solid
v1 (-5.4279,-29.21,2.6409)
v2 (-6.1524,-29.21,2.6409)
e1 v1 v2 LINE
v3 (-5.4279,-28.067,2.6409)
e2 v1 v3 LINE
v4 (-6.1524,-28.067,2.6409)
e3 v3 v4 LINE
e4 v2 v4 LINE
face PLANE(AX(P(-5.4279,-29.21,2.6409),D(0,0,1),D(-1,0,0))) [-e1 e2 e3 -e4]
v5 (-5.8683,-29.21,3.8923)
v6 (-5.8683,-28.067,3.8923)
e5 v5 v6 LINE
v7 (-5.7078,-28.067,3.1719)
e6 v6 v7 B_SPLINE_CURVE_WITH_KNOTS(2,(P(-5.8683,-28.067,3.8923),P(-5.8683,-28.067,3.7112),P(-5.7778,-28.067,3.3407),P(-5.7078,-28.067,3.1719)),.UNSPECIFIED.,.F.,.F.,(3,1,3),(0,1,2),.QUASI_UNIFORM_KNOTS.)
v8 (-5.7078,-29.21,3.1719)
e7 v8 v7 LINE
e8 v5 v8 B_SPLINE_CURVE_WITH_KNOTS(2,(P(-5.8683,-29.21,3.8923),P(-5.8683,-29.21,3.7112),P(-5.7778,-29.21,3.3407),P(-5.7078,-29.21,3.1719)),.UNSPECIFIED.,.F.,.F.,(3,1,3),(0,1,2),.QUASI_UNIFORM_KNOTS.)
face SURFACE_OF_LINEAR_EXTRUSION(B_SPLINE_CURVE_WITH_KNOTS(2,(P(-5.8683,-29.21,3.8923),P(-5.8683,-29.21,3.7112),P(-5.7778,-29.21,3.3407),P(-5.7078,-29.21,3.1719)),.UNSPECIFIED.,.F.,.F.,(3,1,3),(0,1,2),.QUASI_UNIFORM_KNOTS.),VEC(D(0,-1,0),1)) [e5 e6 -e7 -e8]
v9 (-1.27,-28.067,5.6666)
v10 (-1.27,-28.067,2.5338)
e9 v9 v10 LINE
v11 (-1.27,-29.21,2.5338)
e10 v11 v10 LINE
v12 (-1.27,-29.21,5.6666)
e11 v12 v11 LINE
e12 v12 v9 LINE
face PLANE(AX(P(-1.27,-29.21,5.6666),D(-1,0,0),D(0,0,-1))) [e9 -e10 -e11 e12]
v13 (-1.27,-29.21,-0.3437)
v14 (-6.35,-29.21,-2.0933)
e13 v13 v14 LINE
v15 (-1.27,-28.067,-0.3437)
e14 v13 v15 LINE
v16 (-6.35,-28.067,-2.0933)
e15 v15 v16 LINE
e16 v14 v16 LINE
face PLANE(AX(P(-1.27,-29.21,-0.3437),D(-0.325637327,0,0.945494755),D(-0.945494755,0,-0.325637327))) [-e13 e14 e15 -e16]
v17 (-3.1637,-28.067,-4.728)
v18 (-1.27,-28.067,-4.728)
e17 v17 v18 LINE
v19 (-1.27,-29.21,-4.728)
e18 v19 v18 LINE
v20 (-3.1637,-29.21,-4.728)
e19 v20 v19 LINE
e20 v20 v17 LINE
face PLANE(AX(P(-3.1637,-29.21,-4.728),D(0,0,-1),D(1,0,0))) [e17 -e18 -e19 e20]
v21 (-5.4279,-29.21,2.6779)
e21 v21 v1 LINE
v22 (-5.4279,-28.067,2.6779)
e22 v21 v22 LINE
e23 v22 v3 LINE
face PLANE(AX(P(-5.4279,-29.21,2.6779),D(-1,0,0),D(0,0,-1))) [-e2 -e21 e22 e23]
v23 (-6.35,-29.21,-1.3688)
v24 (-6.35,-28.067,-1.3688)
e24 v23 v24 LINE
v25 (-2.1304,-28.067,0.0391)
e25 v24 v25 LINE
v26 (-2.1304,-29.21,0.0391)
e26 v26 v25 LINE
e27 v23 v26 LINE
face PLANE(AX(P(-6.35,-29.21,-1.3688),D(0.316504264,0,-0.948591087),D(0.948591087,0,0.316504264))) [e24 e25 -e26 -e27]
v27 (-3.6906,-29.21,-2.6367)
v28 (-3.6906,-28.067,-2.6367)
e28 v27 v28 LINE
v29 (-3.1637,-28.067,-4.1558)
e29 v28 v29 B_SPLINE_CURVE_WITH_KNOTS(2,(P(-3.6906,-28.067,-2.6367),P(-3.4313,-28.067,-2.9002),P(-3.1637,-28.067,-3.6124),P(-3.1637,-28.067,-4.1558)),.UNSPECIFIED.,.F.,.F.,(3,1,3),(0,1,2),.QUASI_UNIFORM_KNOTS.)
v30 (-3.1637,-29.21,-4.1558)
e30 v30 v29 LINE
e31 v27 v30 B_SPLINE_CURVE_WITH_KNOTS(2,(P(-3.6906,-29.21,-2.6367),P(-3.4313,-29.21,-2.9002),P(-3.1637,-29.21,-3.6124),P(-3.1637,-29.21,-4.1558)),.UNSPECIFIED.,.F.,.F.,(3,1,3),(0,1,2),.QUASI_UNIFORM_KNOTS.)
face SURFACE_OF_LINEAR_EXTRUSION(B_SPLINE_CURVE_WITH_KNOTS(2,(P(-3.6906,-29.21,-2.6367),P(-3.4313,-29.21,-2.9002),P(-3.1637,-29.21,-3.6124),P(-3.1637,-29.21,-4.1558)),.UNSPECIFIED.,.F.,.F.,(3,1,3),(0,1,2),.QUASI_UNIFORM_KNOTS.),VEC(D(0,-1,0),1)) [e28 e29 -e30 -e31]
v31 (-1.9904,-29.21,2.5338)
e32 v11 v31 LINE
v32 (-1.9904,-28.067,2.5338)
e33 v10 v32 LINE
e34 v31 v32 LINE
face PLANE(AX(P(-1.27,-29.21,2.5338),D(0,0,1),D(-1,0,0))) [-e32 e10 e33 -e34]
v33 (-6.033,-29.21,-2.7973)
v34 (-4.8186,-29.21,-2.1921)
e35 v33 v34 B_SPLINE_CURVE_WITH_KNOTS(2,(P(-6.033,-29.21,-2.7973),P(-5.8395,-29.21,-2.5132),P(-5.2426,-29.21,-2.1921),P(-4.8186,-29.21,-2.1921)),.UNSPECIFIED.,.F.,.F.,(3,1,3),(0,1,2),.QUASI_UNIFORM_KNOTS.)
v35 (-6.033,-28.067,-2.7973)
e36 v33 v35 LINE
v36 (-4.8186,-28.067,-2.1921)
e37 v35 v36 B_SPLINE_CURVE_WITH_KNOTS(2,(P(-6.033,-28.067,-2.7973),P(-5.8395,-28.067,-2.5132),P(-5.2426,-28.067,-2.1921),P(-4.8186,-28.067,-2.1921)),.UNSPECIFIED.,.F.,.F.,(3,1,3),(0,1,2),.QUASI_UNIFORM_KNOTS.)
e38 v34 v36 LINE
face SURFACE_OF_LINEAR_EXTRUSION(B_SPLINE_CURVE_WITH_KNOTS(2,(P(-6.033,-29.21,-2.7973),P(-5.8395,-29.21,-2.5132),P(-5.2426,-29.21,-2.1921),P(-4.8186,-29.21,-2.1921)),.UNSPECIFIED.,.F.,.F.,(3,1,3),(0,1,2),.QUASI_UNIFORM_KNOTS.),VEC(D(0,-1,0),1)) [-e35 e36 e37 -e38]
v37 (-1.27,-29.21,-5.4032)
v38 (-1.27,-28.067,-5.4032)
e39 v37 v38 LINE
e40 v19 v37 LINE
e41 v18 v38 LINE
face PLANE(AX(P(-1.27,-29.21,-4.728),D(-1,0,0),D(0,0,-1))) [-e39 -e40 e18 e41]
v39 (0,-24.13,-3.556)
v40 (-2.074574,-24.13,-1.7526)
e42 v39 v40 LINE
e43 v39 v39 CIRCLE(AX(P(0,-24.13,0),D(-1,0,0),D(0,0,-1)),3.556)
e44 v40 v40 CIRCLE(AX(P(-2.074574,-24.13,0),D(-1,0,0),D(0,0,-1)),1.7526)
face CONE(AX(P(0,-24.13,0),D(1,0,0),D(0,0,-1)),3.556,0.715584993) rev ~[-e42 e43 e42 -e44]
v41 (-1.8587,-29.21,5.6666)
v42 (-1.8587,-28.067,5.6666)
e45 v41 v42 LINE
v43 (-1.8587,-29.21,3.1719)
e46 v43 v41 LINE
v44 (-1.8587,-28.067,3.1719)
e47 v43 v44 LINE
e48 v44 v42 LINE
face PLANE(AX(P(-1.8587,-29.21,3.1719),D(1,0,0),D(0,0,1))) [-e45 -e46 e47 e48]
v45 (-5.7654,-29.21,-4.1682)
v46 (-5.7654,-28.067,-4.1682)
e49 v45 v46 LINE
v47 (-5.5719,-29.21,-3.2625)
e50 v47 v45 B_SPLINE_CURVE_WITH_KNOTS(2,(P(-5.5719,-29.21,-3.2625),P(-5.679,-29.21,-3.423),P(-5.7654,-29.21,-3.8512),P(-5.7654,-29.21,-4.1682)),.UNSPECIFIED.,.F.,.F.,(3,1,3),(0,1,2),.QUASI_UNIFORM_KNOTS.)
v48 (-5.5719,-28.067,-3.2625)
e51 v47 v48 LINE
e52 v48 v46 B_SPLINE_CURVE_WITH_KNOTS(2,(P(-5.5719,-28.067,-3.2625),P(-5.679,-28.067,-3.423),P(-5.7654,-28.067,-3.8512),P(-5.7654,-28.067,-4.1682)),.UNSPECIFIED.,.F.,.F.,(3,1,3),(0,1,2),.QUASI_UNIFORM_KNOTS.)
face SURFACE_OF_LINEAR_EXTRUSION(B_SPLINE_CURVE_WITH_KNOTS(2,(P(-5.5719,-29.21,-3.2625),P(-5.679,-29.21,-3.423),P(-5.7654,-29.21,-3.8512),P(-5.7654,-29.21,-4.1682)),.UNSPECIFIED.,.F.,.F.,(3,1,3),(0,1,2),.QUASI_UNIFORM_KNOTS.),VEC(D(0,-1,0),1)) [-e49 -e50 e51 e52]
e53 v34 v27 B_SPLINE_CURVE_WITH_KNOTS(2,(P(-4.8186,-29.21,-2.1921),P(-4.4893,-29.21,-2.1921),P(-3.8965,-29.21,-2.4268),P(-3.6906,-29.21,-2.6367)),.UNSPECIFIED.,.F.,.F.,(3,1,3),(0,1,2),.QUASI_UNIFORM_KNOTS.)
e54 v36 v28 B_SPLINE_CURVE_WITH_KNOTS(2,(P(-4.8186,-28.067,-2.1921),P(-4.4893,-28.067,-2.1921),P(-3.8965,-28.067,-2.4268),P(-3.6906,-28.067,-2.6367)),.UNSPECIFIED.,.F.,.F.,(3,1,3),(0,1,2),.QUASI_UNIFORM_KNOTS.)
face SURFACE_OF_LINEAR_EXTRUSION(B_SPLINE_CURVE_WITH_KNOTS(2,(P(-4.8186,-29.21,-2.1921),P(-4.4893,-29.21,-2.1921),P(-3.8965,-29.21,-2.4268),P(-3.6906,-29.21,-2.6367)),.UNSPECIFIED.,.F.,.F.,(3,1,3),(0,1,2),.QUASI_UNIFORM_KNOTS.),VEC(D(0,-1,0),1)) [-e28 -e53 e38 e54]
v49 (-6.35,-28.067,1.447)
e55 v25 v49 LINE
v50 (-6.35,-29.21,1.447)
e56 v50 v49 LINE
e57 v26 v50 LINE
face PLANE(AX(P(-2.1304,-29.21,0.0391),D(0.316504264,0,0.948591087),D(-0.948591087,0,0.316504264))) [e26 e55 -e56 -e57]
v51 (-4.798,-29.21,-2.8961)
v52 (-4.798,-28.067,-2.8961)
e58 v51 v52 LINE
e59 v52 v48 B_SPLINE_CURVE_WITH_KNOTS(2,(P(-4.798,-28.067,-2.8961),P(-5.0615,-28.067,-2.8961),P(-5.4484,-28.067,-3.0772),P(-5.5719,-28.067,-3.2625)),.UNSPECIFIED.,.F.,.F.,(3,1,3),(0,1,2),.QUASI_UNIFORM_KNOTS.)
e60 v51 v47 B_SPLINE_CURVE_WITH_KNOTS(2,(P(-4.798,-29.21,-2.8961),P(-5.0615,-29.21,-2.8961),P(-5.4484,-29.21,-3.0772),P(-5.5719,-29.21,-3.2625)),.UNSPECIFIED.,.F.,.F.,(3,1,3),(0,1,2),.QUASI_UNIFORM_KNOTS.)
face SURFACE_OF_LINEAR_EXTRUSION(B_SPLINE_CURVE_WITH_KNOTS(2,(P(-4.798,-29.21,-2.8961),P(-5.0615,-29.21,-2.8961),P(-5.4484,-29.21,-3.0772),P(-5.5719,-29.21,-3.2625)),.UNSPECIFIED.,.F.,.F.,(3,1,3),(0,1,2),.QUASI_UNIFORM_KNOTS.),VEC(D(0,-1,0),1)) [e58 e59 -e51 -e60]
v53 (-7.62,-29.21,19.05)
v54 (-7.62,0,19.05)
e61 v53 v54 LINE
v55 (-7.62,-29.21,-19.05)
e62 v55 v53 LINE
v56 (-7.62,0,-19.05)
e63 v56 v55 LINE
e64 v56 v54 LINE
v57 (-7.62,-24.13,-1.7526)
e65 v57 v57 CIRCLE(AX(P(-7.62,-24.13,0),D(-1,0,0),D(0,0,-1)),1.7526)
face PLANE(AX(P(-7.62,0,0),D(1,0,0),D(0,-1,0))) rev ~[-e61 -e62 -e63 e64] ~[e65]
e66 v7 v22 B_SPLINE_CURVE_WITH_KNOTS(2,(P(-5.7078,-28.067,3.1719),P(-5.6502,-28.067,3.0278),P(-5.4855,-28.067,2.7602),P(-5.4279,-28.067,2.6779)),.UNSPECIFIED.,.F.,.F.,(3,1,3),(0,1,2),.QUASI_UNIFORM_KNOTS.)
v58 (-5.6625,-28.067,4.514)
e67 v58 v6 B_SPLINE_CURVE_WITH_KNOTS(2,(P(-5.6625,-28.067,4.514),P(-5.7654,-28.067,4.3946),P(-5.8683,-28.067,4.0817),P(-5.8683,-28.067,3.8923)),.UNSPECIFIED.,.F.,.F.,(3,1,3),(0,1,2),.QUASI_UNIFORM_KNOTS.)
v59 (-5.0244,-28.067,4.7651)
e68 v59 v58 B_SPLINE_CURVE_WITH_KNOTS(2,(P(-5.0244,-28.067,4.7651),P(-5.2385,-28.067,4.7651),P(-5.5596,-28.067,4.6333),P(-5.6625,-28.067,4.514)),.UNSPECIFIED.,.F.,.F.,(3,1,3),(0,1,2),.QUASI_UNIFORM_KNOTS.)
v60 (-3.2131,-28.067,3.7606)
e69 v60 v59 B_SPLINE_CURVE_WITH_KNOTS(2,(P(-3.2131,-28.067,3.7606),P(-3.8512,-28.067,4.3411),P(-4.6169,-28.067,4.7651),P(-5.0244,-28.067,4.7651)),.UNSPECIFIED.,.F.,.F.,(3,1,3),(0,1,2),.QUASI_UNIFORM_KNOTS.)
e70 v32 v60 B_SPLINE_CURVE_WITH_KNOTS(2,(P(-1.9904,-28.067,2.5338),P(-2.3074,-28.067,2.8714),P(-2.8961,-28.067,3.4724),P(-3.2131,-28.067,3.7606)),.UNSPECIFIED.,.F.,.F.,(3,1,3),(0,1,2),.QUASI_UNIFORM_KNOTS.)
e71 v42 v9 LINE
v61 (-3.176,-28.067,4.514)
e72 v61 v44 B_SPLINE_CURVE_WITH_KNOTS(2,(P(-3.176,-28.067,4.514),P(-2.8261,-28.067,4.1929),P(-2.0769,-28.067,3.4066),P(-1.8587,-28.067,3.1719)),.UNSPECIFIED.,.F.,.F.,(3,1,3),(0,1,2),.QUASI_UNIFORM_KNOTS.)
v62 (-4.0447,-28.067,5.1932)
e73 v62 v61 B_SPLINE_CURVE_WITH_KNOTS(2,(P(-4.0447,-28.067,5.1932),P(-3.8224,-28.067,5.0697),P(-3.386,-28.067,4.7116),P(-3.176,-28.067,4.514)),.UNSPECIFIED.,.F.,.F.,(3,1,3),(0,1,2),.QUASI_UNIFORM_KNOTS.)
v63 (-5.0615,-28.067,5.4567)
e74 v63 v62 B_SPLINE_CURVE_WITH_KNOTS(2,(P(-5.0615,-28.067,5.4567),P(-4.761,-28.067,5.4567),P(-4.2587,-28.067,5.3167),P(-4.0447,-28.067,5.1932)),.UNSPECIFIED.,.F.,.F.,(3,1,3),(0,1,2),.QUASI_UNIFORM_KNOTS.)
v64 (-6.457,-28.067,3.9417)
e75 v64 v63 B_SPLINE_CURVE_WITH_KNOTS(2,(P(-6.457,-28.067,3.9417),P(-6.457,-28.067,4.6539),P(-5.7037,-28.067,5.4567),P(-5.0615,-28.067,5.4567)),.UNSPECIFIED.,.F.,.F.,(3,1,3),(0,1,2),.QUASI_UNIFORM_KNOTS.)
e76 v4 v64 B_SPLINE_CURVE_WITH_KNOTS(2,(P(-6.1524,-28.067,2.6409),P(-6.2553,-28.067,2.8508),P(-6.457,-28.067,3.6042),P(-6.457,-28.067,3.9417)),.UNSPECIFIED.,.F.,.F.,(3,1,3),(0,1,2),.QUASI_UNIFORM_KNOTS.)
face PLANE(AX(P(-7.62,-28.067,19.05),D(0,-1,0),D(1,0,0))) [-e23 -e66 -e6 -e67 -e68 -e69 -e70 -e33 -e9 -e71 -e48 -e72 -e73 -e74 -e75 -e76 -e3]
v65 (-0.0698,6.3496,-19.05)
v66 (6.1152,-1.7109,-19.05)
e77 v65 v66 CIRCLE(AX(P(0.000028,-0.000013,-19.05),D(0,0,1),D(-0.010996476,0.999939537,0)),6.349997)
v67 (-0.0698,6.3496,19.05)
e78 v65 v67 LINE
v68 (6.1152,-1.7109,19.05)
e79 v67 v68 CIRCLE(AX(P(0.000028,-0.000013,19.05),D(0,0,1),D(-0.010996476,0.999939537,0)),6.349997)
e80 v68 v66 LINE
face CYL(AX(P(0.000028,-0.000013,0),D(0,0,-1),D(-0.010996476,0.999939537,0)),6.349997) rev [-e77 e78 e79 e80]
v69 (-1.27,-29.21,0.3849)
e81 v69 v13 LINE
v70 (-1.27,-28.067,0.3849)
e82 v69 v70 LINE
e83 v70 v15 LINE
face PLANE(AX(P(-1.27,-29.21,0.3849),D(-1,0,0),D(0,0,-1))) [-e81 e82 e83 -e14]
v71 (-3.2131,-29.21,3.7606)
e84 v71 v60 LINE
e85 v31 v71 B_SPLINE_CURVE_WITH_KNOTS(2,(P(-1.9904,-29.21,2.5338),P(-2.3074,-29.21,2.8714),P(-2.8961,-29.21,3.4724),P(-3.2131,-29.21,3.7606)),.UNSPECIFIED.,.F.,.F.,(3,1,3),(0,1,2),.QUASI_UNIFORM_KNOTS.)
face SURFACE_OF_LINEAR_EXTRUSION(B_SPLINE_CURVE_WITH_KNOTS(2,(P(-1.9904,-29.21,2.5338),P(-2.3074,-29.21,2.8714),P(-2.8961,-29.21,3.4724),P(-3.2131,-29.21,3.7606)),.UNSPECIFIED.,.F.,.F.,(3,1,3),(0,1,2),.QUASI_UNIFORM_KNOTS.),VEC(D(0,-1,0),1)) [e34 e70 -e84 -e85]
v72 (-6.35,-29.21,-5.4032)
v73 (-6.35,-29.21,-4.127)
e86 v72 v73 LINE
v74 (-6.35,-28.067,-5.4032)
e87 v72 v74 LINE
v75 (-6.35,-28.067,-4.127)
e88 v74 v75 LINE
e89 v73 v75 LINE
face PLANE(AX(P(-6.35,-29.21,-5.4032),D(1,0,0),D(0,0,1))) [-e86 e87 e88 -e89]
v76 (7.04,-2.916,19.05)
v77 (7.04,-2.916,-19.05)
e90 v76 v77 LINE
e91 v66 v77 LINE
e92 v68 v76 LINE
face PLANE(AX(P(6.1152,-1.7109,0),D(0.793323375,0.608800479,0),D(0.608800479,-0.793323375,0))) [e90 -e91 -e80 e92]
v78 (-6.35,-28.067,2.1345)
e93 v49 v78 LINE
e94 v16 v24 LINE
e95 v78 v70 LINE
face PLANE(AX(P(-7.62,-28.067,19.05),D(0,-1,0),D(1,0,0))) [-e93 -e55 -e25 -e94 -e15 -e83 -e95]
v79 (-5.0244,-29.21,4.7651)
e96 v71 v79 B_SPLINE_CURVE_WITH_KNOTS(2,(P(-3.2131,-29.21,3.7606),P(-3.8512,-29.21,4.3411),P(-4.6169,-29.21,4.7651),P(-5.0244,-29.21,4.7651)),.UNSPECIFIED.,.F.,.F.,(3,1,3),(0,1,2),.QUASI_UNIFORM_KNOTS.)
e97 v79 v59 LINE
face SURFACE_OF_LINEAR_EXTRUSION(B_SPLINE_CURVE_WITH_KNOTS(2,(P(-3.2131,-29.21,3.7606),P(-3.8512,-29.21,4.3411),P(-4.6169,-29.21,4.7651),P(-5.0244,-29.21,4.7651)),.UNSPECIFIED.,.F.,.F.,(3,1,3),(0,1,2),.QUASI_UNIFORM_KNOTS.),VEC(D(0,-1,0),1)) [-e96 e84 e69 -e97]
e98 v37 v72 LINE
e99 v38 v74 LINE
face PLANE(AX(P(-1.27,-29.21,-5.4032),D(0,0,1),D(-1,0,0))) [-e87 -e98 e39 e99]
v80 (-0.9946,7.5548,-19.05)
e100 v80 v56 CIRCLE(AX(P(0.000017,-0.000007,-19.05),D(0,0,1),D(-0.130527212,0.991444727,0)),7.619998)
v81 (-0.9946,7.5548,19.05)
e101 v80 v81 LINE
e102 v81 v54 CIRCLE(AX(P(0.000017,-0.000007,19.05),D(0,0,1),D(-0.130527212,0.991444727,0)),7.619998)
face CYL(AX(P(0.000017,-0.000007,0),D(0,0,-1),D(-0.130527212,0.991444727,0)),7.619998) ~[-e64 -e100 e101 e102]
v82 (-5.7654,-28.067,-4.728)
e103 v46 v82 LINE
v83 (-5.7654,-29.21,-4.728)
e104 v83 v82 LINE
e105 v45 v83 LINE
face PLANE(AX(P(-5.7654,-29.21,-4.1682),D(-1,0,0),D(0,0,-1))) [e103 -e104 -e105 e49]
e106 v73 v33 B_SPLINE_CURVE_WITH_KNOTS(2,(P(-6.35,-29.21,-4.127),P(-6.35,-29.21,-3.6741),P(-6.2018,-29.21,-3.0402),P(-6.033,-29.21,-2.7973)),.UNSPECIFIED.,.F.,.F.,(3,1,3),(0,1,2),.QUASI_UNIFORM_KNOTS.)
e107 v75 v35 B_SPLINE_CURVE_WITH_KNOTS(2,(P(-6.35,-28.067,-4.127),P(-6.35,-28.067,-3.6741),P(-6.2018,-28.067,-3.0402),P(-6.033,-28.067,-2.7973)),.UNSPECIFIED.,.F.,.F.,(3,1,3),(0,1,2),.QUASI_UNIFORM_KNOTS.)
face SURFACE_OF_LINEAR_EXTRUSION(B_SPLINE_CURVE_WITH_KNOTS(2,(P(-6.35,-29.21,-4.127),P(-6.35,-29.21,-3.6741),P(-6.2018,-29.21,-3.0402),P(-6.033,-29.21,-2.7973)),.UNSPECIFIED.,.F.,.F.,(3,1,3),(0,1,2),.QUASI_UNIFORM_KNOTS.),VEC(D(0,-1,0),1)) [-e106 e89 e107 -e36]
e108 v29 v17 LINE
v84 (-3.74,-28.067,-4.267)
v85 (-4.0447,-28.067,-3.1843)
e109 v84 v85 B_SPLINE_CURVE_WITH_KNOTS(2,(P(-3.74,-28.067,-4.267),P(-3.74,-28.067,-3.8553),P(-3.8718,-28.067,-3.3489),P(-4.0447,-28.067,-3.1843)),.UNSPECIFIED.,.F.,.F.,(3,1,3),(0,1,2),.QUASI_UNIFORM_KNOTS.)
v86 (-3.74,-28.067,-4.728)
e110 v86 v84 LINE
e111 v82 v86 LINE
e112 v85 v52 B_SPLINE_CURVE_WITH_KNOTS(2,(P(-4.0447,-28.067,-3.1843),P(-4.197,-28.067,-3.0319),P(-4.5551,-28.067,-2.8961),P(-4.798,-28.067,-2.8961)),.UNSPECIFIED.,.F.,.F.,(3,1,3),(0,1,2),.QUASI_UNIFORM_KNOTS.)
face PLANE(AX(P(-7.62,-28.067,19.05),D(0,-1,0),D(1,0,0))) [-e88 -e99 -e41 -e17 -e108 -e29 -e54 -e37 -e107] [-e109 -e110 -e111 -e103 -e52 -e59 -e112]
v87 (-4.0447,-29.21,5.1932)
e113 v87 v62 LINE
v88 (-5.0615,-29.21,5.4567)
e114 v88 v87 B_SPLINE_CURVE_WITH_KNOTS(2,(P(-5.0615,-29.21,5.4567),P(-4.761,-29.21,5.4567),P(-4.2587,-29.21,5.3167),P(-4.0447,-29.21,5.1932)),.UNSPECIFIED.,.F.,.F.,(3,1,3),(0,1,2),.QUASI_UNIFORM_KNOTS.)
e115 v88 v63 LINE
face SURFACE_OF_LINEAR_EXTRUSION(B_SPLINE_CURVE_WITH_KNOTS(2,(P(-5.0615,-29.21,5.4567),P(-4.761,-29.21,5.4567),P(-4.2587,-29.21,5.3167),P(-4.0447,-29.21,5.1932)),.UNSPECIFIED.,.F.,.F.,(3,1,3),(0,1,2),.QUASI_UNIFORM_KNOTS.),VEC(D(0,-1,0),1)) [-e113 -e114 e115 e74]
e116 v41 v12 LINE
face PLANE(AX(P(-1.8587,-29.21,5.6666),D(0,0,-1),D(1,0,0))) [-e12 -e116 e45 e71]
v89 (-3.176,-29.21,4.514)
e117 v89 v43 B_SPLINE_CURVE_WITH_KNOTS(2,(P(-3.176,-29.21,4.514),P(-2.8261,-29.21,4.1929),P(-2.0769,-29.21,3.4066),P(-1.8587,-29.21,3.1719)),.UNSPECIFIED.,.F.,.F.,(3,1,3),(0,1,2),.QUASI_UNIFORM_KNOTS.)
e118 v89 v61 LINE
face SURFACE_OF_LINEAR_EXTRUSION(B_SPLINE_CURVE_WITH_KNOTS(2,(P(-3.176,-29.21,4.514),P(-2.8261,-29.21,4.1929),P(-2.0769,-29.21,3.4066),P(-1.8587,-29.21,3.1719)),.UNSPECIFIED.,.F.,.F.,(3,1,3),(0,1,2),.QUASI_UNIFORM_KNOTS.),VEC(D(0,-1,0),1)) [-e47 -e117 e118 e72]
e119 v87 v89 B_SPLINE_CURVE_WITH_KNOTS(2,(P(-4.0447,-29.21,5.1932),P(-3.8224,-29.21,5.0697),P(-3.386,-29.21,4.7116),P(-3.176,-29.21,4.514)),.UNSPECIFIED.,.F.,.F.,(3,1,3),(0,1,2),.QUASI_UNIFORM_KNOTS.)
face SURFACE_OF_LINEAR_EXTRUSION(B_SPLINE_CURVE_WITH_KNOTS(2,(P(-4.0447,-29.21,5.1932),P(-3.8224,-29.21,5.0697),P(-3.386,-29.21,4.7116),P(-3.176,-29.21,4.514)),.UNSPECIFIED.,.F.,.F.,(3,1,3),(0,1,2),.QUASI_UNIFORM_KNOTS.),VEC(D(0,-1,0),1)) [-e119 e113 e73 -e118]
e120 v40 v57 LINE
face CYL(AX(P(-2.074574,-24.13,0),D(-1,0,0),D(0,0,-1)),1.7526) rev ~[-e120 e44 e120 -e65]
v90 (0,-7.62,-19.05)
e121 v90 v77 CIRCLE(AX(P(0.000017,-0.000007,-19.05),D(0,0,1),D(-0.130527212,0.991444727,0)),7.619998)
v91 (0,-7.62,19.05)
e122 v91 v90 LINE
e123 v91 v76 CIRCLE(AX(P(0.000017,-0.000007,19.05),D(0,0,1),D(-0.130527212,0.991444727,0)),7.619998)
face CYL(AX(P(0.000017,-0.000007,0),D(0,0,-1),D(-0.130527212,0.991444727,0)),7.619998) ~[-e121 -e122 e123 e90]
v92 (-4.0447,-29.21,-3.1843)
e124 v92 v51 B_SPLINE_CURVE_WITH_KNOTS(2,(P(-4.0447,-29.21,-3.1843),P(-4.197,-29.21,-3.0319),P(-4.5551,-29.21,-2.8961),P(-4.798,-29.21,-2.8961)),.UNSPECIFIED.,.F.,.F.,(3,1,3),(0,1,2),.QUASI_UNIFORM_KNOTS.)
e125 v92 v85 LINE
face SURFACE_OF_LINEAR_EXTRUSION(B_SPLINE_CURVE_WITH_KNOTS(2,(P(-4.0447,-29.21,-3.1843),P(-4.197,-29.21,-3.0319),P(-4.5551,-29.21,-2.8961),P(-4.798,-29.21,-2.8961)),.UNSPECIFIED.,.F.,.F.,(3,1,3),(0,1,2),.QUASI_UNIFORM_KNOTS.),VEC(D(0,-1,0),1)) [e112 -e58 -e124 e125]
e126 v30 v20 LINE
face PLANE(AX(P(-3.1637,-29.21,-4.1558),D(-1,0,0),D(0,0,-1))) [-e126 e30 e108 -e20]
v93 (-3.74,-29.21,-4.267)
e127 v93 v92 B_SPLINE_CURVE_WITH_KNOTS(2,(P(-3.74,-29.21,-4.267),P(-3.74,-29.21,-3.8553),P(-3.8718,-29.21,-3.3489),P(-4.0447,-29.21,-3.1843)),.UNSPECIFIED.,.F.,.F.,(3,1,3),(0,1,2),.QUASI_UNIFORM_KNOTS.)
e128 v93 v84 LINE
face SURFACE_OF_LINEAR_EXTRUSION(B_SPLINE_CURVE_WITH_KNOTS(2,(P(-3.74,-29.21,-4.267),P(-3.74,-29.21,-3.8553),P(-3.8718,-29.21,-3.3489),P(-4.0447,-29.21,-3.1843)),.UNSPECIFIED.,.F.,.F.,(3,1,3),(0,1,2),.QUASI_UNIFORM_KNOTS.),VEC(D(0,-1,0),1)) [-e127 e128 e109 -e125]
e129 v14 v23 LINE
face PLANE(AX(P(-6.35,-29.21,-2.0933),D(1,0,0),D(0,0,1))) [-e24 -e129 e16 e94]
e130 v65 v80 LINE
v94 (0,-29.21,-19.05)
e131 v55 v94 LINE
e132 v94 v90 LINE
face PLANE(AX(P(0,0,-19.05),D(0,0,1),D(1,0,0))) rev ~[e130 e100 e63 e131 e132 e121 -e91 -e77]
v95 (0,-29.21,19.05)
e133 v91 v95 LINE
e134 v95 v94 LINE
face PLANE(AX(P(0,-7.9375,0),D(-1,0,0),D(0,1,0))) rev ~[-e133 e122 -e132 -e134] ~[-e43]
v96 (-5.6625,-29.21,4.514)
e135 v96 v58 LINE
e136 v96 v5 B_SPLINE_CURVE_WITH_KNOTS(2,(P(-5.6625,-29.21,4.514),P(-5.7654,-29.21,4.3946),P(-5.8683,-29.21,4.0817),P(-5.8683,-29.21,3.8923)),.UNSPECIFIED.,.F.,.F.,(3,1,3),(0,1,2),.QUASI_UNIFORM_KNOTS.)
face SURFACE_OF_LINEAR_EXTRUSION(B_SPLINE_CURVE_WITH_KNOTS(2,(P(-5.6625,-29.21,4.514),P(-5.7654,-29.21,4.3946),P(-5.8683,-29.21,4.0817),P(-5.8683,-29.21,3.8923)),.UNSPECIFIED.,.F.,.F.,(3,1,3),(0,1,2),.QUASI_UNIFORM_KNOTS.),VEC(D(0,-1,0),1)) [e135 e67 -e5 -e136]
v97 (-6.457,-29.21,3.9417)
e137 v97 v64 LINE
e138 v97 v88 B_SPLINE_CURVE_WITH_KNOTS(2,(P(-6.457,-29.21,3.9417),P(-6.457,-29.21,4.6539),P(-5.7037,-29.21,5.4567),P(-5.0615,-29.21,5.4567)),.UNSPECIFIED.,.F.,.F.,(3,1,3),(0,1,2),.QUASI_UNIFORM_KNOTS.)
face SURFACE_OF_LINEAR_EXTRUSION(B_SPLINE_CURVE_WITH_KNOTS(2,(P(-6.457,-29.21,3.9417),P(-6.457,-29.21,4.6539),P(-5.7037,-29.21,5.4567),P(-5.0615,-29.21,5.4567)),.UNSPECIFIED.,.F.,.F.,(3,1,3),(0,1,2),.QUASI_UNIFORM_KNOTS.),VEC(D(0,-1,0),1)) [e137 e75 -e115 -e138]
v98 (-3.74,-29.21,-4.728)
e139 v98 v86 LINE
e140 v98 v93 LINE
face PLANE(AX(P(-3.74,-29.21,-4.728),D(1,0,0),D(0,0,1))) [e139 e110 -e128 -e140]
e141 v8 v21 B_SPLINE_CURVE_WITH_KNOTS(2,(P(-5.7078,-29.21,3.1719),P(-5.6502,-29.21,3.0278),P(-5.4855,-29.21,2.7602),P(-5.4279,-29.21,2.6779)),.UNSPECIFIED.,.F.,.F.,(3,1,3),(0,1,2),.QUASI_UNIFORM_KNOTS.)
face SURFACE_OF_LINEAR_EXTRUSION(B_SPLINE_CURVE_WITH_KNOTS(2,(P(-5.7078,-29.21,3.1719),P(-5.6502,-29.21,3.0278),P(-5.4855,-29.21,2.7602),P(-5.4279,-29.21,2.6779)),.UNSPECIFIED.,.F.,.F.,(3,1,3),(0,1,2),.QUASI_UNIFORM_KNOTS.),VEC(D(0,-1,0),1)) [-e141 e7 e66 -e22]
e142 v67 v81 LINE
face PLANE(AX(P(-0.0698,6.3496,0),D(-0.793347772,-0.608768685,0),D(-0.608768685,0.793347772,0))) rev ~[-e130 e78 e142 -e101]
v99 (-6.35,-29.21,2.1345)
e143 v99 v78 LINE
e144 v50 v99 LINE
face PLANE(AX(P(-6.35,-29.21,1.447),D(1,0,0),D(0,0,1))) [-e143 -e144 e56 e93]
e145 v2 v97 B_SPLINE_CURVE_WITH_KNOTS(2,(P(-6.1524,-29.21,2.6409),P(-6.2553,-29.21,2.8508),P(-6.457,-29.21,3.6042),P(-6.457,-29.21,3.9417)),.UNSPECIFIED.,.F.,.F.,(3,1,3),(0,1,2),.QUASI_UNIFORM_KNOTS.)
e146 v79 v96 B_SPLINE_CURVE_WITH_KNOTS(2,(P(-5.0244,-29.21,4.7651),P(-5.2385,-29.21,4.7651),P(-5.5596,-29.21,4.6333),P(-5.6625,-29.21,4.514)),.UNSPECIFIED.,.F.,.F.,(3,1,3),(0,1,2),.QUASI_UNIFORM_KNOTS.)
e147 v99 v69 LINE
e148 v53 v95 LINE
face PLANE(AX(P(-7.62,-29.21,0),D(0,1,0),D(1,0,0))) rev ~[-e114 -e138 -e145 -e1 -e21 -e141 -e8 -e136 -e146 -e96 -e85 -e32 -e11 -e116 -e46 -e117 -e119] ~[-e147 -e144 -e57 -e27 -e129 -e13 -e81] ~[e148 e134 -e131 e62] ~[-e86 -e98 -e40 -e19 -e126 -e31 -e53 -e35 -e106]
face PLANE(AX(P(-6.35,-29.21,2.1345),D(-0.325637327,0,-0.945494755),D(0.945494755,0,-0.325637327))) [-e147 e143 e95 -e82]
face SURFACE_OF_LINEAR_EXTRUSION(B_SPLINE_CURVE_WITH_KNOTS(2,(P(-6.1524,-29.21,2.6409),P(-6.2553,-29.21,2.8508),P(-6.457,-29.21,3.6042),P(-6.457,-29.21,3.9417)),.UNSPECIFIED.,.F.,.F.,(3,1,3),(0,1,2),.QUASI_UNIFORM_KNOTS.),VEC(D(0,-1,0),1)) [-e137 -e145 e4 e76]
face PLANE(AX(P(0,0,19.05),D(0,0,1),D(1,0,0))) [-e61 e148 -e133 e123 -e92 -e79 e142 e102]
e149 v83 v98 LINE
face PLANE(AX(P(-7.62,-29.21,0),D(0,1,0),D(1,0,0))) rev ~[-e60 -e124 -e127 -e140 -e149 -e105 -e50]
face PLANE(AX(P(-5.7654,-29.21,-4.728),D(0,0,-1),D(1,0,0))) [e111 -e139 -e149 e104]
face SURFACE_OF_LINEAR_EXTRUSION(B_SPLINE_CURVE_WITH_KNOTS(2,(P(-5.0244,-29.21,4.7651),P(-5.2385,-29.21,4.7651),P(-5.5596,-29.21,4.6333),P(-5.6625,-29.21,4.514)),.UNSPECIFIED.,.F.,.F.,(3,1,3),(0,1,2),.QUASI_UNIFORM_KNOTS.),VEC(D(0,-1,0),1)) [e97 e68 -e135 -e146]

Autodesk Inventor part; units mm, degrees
ref_plane "YZ Plane" through (0, 0, 0) normal (1, 0, 0) x (0, 1, 0)
ref_plane "XZ Plane" through (0, 0, 0) normal (0, 1, 0) x (-1, 0, 0)
ref_plane "XY Plane" through (0, 0, 0) normal (0, 0, 1) x (1, 0, 0)
sketch "Sketch4" plane through (0, 0, 0) normal (0, 0, 1) x (1, 0, 0)
  arc A0 (-0.0698, 6.3496) -> (6.1152, -1.7109) centre (0, 0) ccw
  arc A1 (-0.9946, 7.5548) -> (7.04, -2.916) centre (0, 0) ccw
  line L0 (0, 0) -> (0, 7.9375) construction
  line L1 (-0.0698, 6.3496) -> (6.1152, -1.7109) construction
  line L2 (-0.0698, 6.3496) -> (-0.9946, 7.5548)
  line L3 (6.1152, -1.7109) -> (7.04, -2.916)
  circle A2 centre (0, 0) radius 6.35
  dimension "d10" = 12.7
  dimension "d11" = 1.27
  dimension "d12" = 37.5
  dimension "d13" = 10.16
extrude "Extrusion3" add sketch "Sketch4" along normal mid plane 38.1 contours A0 L3 A1 L2
sketch "Sketch5" plane through (0, 0, 0) normal (0, 0, 1) x (1, 0, 0)
  arc A0 (-0.9946, 7.5548) -> (7.04, -2.916) centre (0, 0) ccw projected
  line L0 (-7.62, 0) -> (-7.62, -29.21)
  line L1 (-7.62, -29.21) -> (0, -29.21)
  line L2 (0, -29.21) -> (0, -7.62)
  circle A1 centre (0, 0) radius 7.9375
  dimension "d16" = 21.59
extrude "Extrusion4" add sketch "Sketch5" along normal mid plane 38.1 contours A0 L2 A1 L0 | A1 L2 L1 L0 picked at (-7.3048, -2.4081)
sketch "Sketch6" plane through (0, -29.21, 19.05) normal (1, 0, 0) x (0, 0, -1)
  line L0 (0, 21.59) -> (38.1, 21.59) projected
  line L1 (38.1, 21.59) -> (38.1, 0) projected
  line L2 (0, 0) -> (38.1, 0) projected
  line L3 (0, 0) -> (0, 21.59) projected
  line L4 (19.05, 0) -> (19.05, 21.59) construction
  point P0 (19.05, 29.21)
  point P1 (19.05, 5.08)
  dimension "d30" = 5.08
  dimension "d31" = 0
hole "Hole1" at (0, -24.13, 0) direction (-1, 0, 0) diameter 3.5052 end through all countersink diameter 7.112 countersink angle 82
sketch "Sketch10" plane through (-7.62, -29.21, 19.05) normal (0, -1, 0) x (1, 0, 0)
  line L0 (0, -38.1) -> (0, 0) projected
  line L1 (7.62, -38.1) -> (0, -38.1) projected
  line L2 (7.62, 0) -> (7.62, -38.1) projected
  line L3 (0, 0) -> (7.62, 0) projected
  line L4 (3.81, -38.1) -> (3.81, 0) construction
  spline S0 degree 2 poles (2.8014, -21.2421) (3.1307, -21.2421) (3.7235, -21.4768) (3.9294, -21.6867) knots 0 0 0 1 2 2 2
  spline S1 degree 2 poles (3.9294, -21.6867) (4.1887, -21.9502) (4.4563, -22.6624) (4.4563, -23.2058) knots 0 0 0 1 2 2 2
  line L5 (4.4563, -23.2058) -> (4.4563, -23.778)
  line L6 (4.4563, -23.778) -> (6.35, -23.778)
  line L7 (6.35, -23.778) -> (6.35, -24.4532)
  line L8 (6.35, -24.4532) -> (1.27, -24.4532)
  line L9 (1.27, -24.4532) -> (1.27, -23.177)
  spline S2 degree 2 poles (1.27, -23.177) (1.27, -22.7241) (1.4182, -22.0902) (1.587, -21.8473) knots 0 0 0 1 2 2 2
  spline S3 degree 2 poles (1.587, -21.8473) (1.7805, -21.5632) (2.3774, -21.2421) (2.8014, -21.2421) knots 0 0 0 1 2 2 2
  spline S4 degree 2 poles (2.822, -21.9461) (2.5585, -21.9461) (2.1716, -22.1272) (2.0481, -22.3125) knots 0 0 0 1 2 2 2
  spline S5 degree 2 poles (2.0481, -22.3125) (1.941, -22.473) (1.8546, -22.9012) (1.8546, -23.2182) knots 0 0 0 1 2 2 2
  line L10 (1.8546, -23.2182) -> (1.8546, -23.778)
  line L11 (1.8546, -23.778) -> (3.88, -23.778)
  line L12 (3.88, -23.778) -> (3.88, -23.317)
  spline S6 degree 2 poles (3.88, -23.317) (3.88, -22.9053) (3.7482, -22.3989) (3.5753, -22.2343) knots 0 0 0 1 2 2 2
  spline S7 degree 2 poles (3.5753, -22.2343) (3.423, -22.0819) (3.0649, -21.9461) (2.822, -21.9461) knots 0 0 0 1 2 2 2
  line L13 (1.27, -16.9155) -> (6.35, -18.6651)
  line L14 (6.35, -18.6651) -> (6.35, -19.3937)
  line L15 (6.35, -19.3937) -> (1.27, -21.1433)
  line L16 (1.27, -21.1433) -> (1.27, -20.4188)
  line L17 (1.27, -20.4188) -> (5.4896, -19.0109)
  line L18 (5.4896, -19.0109) -> (1.27, -17.603)
  line L19 (1.27, -17.603) -> (1.27, -16.9155)
  line L20 (6.35, -13.3834) -> (6.35, -16.5162)
  line L21 (6.35, -16.5162) -> (5.6296, -16.5162)
  spline S8 degree 2 poles (5.6296, -16.5162) (5.3126, -16.1786) (4.7239, -15.5776) (4.4069, -15.2894) knots 0 0 0 1 2 2 2
  spline S9 degree 2 poles (4.4069, -15.2894) (3.7688, -14.7089) (3.0031, -14.2849) (2.5956, -14.2849) knots 0 0 0 1 2 2 2
  spline S10 degree 2 poles (2.5956, -14.2849) (2.3815, -14.2849) (2.0604, -14.4167) (1.9575, -14.536) knots 0 0 0 1 2 2 2
  spline S11 degree 2 poles (1.9575, -14.536) (1.8546, -14.6554) (1.7517, -14.9683) (1.7517, -15.1577) knots 0 0 0 1 2 2 2
  spline S12 degree 2 poles (1.7517, -15.1577) (1.7517, -15.3388) (1.8422, -15.7093) (1.9122, -15.8781) knots 0 0 0 1 2 2 2
  spline S13 degree 2 poles (1.9122, -15.8781) (1.9698, -16.0222) (2.1345, -16.2898) (2.1921, -16.3721) knots 0 0 0 1 2 2 2
  line L22 (2.1921, -16.3721) -> (2.1921, -16.4091)
  line L23 (2.1921, -16.4091) -> (1.4676, -16.4091)
  spline S14 degree 2 poles (1.4676, -16.4091) (1.3647, -16.1992) (1.163, -15.4458) (1.163, -15.1083) knots 0 0 0 1 2 2 2
  spline S15 degree 2 poles (1.163, -15.1083) (1.163, -14.3961) (1.9163, -13.5933) (2.5585, -13.5933) knots 0 0 0 1 2 2 2
  spline S16 degree 2 poles (2.5585, -13.5933) (2.859, -13.5933) (3.3613, -13.7333) (3.5753, -13.8568) knots 0 0 0 1 2 2 2
  spline S17 degree 2 poles (3.5753, -13.8568) (3.7976, -13.9803) (4.234, -14.3384) (4.444, -14.536) knots 0 0 0 1 2 2 2
  spline S18 degree 2 poles (4.444, -14.536) (4.7939, -14.8571) (5.5431, -15.6434) (5.7613, -15.8781) knots 0 0 0 1 2 2 2
  line L24 (5.7613, -15.8781) -> (5.7613, -13.3834)
  line L25 (5.7613, -13.3834) -> (6.35, -13.3834)
  point P0 (7.62, -19.05)
extrude "Text" cut sketch "Sketch10" against normal blind 1.143 contours S0 S1 L5 L6 L7 L8 L9 S2 S3 | L13 L14 L15 L16 L17 L18 L19 | L20 L21 S8 S9 S10 S11 S12 S13 L22 L23 S14 S15 S16 S17 S18 L24 L25
equation "\"d10\" = shadeDiameter"
equation "\"d11\" = shadeHolderWallThickness"
equation "\"d13\" = openingForShade"
equation "\"d14\" = partWidth"
equation "\"d16\" = flatBelowShade"
equation "\"d17\" = partWidth"
equation "\"d30\" = holeHeightAboveBottom"
equation "\"d28\" = textDepth"
equation "\"shadeDiameter\" = 12.7"
equation "\"partWidth\" = 38.1"
equation "\"backThickness\" = 1.905"
equation "\"backHeight\" = 25.4"
equation "\"cutTiltAngle\" = 52.5deg"
equation "\"flatBelowShade\" = 21.59"
equation "\"shadeHolderWallThickness\" = 1.27"
equation "\"openingForShade\" = 10.16"
equation "\"textDepth\" = 1.143"
equation "\"holeHeightAboveBottom\" = 5.08"
properties part number "shadeHolderSideWindow"
